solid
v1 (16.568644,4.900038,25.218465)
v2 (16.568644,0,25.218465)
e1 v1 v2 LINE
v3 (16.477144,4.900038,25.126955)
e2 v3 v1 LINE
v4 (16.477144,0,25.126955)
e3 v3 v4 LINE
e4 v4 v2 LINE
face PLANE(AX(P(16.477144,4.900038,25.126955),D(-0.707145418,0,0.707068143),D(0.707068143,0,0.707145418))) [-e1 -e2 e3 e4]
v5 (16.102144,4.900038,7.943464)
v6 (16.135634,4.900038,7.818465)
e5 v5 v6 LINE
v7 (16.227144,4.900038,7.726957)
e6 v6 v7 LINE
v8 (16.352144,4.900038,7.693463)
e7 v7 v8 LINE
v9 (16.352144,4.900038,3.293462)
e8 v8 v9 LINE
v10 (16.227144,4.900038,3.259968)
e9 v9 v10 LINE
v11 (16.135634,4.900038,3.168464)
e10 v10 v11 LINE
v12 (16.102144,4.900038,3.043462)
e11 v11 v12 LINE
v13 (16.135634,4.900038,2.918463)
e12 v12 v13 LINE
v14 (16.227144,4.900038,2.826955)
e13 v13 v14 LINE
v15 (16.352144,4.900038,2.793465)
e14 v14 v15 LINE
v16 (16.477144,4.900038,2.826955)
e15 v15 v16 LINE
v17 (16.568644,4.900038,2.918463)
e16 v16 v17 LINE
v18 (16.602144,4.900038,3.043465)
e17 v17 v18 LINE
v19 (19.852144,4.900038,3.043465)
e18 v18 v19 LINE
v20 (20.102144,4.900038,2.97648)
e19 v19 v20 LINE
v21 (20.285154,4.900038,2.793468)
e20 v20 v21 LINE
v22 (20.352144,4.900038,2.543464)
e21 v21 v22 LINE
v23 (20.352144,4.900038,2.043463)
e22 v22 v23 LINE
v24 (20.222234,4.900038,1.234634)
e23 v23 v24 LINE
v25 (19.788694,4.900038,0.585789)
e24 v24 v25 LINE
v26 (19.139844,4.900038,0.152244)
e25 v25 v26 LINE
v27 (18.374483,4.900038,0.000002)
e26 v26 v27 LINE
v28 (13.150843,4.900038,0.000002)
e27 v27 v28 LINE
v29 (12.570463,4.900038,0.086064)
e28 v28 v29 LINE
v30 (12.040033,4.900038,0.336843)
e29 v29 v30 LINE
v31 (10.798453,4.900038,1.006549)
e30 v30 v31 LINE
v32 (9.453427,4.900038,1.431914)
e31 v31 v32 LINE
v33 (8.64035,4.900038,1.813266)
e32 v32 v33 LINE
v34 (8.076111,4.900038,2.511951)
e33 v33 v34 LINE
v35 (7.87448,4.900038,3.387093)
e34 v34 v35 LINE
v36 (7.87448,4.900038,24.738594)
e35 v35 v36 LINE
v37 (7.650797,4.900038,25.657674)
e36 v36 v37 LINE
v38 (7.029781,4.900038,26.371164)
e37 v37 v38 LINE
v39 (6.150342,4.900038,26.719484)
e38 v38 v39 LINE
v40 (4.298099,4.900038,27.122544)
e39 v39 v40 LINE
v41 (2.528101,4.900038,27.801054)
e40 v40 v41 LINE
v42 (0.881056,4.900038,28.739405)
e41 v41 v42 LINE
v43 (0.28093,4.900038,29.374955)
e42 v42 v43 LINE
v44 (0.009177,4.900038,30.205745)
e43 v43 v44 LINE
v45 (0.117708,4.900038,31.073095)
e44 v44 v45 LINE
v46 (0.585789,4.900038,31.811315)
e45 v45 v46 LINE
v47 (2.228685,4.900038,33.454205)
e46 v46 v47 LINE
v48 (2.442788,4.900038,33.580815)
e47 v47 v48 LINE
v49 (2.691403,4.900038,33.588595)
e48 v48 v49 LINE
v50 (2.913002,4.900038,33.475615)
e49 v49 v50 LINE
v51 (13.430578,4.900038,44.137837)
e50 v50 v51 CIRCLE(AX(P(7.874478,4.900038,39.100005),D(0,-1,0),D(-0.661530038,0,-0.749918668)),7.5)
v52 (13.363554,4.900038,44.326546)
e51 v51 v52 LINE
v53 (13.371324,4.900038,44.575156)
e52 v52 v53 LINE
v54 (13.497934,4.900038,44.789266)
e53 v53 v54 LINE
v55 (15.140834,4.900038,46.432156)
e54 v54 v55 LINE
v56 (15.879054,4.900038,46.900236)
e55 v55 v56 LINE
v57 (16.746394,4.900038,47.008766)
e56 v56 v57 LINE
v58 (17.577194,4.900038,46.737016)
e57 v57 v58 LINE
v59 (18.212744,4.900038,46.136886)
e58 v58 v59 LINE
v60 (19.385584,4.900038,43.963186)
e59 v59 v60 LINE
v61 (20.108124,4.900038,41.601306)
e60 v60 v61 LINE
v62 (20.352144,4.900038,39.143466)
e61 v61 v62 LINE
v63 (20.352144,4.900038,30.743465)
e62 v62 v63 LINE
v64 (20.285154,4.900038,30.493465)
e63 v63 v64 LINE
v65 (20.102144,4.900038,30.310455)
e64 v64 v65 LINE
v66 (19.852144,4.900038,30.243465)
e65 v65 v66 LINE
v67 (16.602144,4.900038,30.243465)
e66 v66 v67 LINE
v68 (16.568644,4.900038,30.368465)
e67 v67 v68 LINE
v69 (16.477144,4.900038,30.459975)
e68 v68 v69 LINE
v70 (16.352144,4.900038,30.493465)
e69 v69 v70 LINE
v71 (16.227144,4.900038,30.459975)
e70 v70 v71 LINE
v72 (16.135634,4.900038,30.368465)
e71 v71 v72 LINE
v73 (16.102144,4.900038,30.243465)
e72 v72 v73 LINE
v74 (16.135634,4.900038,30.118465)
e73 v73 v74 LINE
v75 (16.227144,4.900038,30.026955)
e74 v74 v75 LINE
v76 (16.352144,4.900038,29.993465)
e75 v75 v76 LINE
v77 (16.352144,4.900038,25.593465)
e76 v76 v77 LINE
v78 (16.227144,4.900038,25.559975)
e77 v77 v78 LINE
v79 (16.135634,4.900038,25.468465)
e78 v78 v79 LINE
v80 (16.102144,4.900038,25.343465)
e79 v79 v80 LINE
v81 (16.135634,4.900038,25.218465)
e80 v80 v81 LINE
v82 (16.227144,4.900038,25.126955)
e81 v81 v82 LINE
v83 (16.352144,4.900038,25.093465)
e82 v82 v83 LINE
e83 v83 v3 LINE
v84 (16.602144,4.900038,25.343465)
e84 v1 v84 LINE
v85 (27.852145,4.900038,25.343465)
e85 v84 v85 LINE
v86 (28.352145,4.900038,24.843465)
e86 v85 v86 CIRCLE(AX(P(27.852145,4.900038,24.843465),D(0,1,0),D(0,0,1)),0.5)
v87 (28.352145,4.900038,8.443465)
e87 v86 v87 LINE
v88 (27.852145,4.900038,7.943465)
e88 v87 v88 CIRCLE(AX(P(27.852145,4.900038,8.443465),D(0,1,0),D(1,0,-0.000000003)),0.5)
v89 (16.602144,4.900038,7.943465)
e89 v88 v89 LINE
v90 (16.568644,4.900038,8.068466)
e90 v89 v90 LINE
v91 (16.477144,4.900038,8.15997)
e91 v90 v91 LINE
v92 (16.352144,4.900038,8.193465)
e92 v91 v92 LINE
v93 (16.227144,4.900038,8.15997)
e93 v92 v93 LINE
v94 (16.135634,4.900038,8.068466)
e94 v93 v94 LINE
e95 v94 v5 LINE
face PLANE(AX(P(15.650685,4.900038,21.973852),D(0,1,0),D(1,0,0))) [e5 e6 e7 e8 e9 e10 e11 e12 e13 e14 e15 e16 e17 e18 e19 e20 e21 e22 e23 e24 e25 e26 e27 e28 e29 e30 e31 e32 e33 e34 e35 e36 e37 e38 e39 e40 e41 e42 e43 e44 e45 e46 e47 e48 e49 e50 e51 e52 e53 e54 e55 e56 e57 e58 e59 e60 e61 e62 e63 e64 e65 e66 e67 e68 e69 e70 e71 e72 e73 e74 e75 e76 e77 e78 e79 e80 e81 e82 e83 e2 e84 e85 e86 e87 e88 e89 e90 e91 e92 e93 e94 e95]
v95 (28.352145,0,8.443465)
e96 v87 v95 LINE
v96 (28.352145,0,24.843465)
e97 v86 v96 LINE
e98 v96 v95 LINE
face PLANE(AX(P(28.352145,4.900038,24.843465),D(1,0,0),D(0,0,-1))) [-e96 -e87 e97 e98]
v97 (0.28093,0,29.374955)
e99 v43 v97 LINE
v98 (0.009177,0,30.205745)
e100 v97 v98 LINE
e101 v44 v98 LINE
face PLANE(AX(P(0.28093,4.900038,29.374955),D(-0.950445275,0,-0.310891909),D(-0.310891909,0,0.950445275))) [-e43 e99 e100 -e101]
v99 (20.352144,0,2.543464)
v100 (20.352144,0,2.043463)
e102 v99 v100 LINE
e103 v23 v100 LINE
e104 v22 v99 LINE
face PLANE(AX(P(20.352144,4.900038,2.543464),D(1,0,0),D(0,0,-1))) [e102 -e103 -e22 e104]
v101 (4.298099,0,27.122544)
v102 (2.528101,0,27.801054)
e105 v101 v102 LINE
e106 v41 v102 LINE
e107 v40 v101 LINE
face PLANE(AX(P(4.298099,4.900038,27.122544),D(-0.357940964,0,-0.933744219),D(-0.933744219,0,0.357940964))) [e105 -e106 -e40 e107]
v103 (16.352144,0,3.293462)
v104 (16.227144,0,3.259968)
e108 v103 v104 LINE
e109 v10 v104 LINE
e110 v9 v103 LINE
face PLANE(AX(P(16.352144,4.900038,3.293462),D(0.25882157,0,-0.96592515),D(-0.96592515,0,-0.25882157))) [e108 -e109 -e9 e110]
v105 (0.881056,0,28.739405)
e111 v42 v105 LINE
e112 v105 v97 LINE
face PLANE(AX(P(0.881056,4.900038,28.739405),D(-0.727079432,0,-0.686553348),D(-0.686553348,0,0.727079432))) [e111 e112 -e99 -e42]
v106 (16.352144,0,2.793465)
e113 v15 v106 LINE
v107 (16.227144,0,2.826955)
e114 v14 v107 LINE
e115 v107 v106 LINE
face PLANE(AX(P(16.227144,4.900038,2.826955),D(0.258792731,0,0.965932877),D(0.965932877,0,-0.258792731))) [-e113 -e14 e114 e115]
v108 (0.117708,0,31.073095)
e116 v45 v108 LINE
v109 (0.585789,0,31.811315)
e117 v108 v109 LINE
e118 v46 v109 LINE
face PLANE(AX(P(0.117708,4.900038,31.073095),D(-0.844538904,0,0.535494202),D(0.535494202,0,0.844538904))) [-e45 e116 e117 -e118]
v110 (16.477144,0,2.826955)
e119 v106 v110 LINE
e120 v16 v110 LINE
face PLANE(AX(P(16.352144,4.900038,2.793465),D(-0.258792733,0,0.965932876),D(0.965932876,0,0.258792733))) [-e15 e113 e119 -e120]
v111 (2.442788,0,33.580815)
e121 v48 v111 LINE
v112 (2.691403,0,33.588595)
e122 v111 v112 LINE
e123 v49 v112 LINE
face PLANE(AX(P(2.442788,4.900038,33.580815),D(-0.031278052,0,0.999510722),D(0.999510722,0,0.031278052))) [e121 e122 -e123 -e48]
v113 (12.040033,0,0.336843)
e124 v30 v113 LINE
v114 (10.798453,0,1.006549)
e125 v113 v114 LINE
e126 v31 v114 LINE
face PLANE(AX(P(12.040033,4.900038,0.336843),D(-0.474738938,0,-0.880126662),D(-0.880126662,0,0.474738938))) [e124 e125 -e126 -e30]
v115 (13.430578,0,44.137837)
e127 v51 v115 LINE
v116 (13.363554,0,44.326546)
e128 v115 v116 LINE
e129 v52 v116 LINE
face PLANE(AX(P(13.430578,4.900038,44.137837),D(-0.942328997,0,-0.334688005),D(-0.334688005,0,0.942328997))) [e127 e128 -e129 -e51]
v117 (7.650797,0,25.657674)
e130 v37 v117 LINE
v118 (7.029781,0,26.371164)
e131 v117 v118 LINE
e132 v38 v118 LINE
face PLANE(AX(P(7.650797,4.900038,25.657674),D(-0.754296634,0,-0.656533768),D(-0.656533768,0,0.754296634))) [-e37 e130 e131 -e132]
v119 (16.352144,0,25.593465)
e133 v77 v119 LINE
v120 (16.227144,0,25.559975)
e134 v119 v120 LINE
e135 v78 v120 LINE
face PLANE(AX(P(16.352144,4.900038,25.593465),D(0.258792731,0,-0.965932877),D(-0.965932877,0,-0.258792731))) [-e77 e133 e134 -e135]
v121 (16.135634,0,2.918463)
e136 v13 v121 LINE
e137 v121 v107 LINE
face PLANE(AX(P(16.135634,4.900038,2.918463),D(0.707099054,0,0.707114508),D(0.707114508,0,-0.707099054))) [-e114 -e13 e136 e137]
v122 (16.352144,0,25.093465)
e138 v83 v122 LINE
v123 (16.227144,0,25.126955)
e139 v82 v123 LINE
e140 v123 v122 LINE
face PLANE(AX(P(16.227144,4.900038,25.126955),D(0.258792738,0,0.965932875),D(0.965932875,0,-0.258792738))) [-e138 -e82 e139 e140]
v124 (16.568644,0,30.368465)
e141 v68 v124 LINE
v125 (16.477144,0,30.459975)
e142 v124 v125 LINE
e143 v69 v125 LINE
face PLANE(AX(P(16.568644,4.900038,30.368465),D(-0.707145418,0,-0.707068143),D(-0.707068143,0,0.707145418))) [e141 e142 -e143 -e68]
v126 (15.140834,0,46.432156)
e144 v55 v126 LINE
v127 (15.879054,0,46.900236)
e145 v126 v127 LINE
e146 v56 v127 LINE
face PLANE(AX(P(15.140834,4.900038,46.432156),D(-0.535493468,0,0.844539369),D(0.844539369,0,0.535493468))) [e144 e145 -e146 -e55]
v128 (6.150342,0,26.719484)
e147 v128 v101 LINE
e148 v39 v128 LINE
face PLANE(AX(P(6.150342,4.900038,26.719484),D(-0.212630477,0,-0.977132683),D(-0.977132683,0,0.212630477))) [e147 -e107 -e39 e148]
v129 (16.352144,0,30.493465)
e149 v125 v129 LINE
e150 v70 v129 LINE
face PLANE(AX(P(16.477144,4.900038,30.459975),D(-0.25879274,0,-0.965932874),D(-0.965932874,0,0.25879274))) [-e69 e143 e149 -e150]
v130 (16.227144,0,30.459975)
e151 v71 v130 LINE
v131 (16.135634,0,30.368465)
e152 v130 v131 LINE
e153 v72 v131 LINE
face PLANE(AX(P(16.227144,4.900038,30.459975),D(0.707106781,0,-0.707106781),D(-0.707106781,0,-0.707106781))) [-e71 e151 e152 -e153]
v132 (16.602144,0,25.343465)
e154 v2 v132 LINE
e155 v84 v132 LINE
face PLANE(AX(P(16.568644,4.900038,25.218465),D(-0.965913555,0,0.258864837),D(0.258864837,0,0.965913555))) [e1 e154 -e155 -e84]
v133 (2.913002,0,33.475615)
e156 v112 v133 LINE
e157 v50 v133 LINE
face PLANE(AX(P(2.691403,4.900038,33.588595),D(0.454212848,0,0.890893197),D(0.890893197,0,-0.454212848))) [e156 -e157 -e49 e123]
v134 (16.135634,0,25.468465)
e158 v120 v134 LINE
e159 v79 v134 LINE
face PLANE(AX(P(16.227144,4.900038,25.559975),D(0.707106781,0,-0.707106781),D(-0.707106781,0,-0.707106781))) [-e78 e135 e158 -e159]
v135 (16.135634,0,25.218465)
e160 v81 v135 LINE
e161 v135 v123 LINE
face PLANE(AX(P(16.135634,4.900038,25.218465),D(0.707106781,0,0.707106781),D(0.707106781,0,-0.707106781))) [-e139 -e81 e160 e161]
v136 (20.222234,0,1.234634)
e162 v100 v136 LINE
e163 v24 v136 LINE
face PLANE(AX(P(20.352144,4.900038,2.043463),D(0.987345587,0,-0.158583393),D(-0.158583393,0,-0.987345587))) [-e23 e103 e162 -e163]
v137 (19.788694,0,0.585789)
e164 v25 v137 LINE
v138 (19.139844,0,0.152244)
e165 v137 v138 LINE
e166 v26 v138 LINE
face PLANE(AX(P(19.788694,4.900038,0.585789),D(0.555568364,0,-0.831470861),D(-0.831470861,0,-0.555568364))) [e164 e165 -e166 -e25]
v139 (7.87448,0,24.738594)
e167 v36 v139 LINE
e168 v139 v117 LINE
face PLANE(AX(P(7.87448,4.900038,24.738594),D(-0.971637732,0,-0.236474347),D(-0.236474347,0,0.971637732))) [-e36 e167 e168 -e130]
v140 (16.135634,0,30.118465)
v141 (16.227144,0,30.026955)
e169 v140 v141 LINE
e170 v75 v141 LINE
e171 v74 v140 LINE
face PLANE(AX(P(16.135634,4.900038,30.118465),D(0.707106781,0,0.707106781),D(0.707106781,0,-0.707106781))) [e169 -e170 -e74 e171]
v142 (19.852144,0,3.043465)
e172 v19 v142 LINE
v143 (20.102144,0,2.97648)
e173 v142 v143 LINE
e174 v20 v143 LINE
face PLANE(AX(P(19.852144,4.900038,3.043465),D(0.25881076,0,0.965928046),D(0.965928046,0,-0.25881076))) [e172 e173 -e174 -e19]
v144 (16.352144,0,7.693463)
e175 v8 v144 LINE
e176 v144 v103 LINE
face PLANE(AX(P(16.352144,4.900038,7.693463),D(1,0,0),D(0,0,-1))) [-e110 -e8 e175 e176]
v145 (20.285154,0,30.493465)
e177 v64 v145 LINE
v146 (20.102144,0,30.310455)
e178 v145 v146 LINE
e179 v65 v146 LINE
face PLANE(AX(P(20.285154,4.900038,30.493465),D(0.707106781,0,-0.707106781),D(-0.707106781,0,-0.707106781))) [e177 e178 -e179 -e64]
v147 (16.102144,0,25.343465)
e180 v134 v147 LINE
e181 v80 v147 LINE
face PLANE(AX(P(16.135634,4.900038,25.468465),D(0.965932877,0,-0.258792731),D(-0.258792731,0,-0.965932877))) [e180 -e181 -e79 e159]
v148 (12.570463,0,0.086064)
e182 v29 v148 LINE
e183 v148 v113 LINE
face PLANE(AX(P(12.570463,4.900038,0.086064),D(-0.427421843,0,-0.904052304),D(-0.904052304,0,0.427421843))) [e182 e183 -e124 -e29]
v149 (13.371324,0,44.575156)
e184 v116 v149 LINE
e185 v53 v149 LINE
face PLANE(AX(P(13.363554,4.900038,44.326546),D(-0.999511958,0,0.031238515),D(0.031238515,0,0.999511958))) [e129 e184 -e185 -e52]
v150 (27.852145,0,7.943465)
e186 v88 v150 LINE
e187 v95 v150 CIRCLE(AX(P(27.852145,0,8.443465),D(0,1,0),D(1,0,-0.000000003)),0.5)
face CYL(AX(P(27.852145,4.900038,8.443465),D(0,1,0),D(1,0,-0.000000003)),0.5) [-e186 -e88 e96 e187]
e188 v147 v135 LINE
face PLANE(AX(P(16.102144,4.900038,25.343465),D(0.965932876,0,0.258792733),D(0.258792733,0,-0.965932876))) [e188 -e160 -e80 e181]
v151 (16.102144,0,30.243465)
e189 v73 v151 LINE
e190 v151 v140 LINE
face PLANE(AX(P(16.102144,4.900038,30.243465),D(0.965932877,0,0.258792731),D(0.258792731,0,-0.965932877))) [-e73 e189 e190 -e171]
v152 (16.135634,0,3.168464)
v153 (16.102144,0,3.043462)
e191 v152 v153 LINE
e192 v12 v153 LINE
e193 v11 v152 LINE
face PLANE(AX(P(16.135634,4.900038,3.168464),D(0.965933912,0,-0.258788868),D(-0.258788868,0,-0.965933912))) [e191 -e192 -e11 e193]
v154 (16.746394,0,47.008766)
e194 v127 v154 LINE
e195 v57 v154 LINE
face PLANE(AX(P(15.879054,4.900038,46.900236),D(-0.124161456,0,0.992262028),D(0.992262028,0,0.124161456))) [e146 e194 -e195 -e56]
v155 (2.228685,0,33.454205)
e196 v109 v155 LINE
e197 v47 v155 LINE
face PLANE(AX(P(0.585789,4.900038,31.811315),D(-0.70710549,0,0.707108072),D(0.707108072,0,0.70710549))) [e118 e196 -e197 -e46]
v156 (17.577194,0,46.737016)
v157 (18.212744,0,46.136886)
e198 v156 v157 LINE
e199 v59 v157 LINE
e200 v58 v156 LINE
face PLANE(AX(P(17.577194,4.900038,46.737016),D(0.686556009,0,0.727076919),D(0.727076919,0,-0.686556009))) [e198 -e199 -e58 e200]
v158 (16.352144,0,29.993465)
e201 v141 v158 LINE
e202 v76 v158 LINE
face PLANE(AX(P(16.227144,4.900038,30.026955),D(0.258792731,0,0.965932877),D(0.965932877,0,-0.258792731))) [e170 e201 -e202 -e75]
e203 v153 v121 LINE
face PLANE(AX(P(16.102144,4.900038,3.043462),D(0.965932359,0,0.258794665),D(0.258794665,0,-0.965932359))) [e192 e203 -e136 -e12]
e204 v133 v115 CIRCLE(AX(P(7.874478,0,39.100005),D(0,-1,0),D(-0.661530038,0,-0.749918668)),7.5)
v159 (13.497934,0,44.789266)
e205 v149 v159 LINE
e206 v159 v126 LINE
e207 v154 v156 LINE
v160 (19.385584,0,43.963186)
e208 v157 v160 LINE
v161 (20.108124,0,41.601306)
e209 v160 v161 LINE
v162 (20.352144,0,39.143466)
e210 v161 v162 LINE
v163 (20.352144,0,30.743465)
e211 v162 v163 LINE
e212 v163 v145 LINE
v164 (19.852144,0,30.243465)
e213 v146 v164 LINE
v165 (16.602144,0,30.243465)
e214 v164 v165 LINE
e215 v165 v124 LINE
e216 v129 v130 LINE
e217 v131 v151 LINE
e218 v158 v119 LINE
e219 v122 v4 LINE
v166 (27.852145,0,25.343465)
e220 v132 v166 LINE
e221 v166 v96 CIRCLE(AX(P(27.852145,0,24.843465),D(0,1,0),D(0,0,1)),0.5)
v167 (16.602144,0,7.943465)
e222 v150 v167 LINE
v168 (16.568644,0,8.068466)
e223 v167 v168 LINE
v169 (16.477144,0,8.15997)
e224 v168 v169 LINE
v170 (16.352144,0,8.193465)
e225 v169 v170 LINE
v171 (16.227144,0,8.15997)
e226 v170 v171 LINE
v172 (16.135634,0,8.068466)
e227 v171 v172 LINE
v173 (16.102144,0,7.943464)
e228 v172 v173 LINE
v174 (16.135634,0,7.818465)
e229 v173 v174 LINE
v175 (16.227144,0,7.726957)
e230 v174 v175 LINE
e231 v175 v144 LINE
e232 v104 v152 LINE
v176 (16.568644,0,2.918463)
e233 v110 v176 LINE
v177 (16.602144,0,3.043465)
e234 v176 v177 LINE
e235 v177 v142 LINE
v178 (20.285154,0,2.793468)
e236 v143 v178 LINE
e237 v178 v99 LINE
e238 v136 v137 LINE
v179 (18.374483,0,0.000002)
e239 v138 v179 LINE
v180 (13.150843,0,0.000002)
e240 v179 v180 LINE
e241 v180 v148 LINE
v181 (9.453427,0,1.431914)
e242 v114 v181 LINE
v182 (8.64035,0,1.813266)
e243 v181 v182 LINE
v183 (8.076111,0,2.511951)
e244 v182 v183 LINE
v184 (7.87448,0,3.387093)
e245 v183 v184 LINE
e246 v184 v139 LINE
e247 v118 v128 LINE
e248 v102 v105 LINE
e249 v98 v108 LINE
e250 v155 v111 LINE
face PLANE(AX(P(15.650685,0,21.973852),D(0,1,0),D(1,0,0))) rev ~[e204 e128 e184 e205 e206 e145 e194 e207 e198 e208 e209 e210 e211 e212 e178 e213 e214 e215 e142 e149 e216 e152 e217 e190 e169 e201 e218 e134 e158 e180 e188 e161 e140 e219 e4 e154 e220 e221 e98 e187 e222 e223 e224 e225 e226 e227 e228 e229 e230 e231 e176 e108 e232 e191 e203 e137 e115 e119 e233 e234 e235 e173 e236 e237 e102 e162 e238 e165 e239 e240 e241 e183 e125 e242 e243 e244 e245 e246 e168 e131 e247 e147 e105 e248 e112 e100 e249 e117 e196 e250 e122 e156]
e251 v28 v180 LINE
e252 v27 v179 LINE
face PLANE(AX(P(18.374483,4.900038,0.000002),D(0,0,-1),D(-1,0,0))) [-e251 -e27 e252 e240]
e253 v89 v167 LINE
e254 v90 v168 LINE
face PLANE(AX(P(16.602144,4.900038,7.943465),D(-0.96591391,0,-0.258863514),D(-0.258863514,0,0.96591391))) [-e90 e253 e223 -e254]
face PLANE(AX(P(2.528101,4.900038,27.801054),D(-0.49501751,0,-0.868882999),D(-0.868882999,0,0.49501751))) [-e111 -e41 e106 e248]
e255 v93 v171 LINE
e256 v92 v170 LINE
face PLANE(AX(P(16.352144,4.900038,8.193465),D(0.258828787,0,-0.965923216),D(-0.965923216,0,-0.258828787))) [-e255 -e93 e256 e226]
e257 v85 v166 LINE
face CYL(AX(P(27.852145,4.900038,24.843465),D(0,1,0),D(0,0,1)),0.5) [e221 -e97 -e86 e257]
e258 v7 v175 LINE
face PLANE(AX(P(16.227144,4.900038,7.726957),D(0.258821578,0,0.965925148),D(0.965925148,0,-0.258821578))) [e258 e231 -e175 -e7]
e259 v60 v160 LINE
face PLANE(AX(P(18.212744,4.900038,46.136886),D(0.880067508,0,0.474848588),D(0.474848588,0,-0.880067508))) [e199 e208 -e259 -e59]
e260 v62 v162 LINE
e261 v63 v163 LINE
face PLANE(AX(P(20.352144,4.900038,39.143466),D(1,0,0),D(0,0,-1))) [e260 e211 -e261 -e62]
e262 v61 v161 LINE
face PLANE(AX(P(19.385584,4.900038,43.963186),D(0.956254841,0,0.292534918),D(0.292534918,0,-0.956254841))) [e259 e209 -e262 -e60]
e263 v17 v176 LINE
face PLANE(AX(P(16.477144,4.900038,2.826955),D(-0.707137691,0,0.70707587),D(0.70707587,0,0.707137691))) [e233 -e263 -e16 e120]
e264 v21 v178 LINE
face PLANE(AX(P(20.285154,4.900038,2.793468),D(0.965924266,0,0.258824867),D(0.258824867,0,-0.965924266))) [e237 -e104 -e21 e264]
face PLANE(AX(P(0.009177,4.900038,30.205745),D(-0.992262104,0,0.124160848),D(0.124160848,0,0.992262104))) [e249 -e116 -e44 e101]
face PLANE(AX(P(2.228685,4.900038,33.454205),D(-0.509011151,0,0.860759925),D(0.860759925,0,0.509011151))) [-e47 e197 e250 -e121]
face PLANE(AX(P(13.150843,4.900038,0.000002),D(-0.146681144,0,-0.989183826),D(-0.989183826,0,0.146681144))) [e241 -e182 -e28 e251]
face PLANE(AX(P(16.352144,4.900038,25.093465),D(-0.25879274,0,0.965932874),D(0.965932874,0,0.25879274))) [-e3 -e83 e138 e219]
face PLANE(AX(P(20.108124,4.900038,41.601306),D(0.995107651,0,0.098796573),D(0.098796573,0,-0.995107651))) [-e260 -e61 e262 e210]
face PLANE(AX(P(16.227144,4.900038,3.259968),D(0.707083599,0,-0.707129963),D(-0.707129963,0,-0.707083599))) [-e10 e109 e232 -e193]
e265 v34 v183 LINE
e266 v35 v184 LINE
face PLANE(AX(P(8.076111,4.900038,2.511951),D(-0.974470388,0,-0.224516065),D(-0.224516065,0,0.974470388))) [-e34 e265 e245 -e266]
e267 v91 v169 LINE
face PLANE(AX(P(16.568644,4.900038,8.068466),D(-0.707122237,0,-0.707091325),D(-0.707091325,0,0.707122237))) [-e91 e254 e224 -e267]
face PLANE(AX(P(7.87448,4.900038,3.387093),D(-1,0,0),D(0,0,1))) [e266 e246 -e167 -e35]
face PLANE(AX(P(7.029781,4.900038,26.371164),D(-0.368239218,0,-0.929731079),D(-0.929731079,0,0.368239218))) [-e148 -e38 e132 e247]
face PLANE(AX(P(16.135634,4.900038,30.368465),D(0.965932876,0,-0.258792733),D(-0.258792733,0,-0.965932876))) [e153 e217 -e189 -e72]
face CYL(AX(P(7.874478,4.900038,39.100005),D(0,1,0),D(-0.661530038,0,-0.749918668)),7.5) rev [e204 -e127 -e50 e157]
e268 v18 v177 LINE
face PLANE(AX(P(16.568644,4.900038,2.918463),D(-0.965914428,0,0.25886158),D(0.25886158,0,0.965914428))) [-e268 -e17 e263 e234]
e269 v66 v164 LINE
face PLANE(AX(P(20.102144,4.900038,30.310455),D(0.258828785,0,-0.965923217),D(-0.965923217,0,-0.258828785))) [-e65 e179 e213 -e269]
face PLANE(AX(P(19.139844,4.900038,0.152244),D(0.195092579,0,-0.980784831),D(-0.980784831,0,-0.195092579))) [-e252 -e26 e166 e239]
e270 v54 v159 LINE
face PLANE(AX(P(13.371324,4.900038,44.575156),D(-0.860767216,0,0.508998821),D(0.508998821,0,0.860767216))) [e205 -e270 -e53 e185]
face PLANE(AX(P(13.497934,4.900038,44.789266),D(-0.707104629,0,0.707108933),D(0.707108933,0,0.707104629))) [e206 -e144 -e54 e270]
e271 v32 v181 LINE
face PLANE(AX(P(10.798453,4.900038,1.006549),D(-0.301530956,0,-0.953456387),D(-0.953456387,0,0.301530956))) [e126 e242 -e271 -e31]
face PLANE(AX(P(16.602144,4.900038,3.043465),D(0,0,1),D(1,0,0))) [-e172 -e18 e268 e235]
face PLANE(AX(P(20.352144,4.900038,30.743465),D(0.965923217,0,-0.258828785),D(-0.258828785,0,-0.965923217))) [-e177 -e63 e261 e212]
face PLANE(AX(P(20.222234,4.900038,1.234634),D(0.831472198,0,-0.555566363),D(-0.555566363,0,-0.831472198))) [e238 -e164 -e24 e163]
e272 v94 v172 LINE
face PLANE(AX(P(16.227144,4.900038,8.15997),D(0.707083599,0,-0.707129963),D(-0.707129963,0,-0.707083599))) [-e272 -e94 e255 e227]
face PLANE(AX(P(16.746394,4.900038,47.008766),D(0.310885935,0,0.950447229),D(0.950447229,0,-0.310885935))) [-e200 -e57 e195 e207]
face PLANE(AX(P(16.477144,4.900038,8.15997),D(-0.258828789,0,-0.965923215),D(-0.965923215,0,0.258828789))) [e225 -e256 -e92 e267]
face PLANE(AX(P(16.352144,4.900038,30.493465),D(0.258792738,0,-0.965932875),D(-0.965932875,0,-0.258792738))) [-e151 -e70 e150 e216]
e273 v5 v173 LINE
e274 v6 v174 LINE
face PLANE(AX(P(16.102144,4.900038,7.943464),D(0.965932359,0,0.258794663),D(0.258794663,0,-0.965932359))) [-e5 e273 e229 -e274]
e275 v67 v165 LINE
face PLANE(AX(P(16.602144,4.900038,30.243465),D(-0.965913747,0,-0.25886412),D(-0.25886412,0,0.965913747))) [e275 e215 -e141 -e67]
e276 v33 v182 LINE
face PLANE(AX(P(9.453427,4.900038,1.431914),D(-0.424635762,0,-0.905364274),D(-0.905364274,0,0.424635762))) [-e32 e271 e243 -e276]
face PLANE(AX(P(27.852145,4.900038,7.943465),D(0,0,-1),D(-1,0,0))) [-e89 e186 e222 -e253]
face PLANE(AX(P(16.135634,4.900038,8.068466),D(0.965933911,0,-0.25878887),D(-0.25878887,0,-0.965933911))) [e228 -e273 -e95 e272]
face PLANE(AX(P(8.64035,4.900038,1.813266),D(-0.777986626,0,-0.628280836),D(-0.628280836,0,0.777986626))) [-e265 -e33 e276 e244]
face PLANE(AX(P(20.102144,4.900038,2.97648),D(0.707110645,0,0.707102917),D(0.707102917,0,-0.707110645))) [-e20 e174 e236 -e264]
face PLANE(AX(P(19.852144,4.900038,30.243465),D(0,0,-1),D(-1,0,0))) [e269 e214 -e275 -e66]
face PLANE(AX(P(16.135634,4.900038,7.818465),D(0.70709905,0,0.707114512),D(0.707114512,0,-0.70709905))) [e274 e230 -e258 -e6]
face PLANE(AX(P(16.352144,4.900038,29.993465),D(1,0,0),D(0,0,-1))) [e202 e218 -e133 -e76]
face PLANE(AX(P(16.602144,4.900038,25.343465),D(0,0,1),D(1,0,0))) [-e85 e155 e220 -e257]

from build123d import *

# Parameters (mm, degrees)
BOSS_EXTRU_1_DEPTH = 4.900038


with BuildPart() as part:
    # Esquisse1 → Boss.-Extru.1 (new body)
    with BuildSketch(Plane(origin=(0, 4.900038, 0), x_dir=(1, 0, 0), z_dir=(0, 1, 0))):
        with BuildLine():
            Line((20.352144301, -2.543463741), (20.352144301, -2.043462703))
            Line((20.352144301, -2.043462703), (20.222233634, -1.234634479))
            Line((20.222233634, -1.234634479), (19.788693601, -0.58578943))
            Line((19.788693601, -0.58578943), (19.139843552, -0.152243798))
            Line((19.139843552, -0.152243798), (18.374483494, -2.386e-06))
            Line((18.374483494, -2.386e-06), (13.150843099, -2.386e-06))
            Line((13.150843099, -2.386e-06), (12.570463055, -0.086064053))
            Line((12.570463055, -0.086064053), (12.040033015, -0.336843111))
            Line((12.040033015, -0.336843111), (10.798452921, -1.006549462))
            Line((10.798452921, -1.006549462), (9.453426819, -1.431914494))
            Line((9.453426819, -1.431914494), (8.640349758, -1.813265523))
            Line((8.640349758, -1.813265523), (8.076110715, -2.511950576))
            Line((8.076110715, -2.511950576), (7.8744797, -3.387092642))
            Line((7.8744797, -3.387092642), (7.8744797, -24.738594256))
            Line((7.8744797, -24.738594256), (7.650796683, -25.657674326))
            Line((7.650796683, -25.657674326), (7.029780636, -26.37116438))
            Line((7.029780636, -26.37116438), (6.15034157, -26.719484406))
            Line((6.15034157, -26.719484406), (4.29809943, -27.122544437))
            Line((4.29809943, -27.122544437), (2.528101296, -27.801054488))
            Line((2.528101296, -27.801054488), (0.881055671, -28.739404559))
            Line((0.881055671, -28.739404559), (0.280930026, -29.374954607))
            Line((0.280930026, -29.374954607), (0.009177495, -30.20574467))
            Line((0.009177495, -30.20574467), (0.117708214, -31.073094735))
            Line((0.117708214, -31.073094735), (0.585789149, -31.811314791))
            Line((0.585789149, -31.811314791), (2.228685273, -33.454204915))
            Line((2.228685273, -33.454204915), (2.442788289, -33.580814925))
            Line((2.442788289, -33.580814925), (2.691403308, -33.588594925))
            Line((2.691403308, -33.588594925), (2.913002325, -33.475614917))
            ThreePointArc((2.913002325, -33.475614917), (13.213872644, -33.833045583), (13.430577738, -44.137836939))
            Line((13.430577738, -44.137836939), (13.363553773, -44.3265459))
            Line((13.363553773, -44.3265459), (13.371323773, -44.575155919))
            Line((13.371323773, -44.575155919), (13.497933783, -44.789265935))
            Line((13.497933783, -44.789265935), (15.140833907, -46.432156059))
            Line((15.140833907, -46.432156059), (15.879053963, -46.900236095))
            Line((15.879053963, -46.900236095), (16.746394029, -47.008766103))
            Line((16.746394029, -47.008766103), (17.577194091, -46.737016082))
            Line((17.577194091, -46.737016082), (18.212744139, -46.136886037))
            Line((18.212744139, -46.136886037), (19.385584228, -43.963185873))
            Line((19.385584228, -43.963185873), (20.108124283, -41.601305694))
            Line((20.108124283, -41.601305694), (20.352144301, -39.143465508))
            Line((20.352144301, -39.143465508), (20.352144301, -30.743464873))
            Line((20.352144301, -30.743464873), (20.285154296, -30.493464854))
            Line((20.285154296, -30.493464854), (20.102144282, -30.31045484))
            Line((20.102144282, -30.31045484), (19.852144263, -30.243464835))
            Line((19.852144263, -30.243464835), (16.602144018, -30.243464835))
            Line((16.602144018, -30.243464835), (16.568644015, -30.368465215))
            Line((16.568644015, -30.368465215), (16.477144008, -30.459975222))
            Line((16.477144008, -30.459975222), (16.352143999, -30.493465225))
            Line((16.352143999, -30.493465225), (16.227143989, -30.459975222))
            Line((16.227143989, -30.459975222), (16.135633982, -30.368465215))
            Line((16.135633982, -30.368465215), (16.10214398, -30.243465206))
            Line((16.10214398, -30.243465206), (16.135633982, -30.118465196))
            Line((16.135633982, -30.118465196), (16.227143989, -30.026955189))
            Line((16.227143989, -30.026955189), (16.352143999, -29.993465187))
            Line((16.352143999, -29.993465187), (16.352143999, -25.593464854))
            Line((16.352143999, -25.593464854), (16.227143989, -25.559974852))
            Line((16.227143989, -25.559974852), (16.135633982, -25.468464845))
            Line((16.135633982, -25.468464845), (16.10214398, -25.343464835))
            Line((16.10214398, -25.343464835), (16.135633982, -25.218464826))
            Line((16.135633982, -25.218464826), (16.227143989, -25.126954819))
            Line((16.227143989, -25.126954819), (16.352143999, -25.093464816))
            Line((16.352143999, -25.093464816), (16.477144008, -25.126954819))
            Line((16.477144008, -25.126954819), (16.568644015, -25.218464826))
            Line((16.568644015, -25.218464826), (16.602144018, -25.343464835))
            Line((16.602144018, -25.343464835), (27.852144868, -25.343464835))
            ThreePointArc((27.852144868, -25.343464835), (28.205698285, -25.197018215), (28.352144906, -24.843464798))
            Line((28.352144906, -24.843464798), (28.352144906, -8.443464873))
            ThreePointArc((28.352144906, -8.443464873), (28.205698285, -8.089911456), (27.852144868, -7.943464835))
            Line((27.852144868, -7.943464835), (16.602144018, -7.943464835))
            Line((16.602144018, -7.943464835), (16.568644015, -8.068465529))
            Line((16.568644015, -8.068465529), (16.477144008, -8.159969536))
            Line((16.477144008, -8.159969536), (16.352143999, -8.193464539))
            Line((16.352143999, -8.193464539), (16.227143989, -8.159969536))
            Line((16.227143989, -8.159969536), (16.135633982, -8.068465529))
            Line((16.135633982, -8.068465529), (16.10214398, -7.94346352))
            Line((16.10214398, -7.94346352), (16.135633982, -7.81846451))
            Line((16.135633982, -7.81846451), (16.227143989, -7.726956504))
            Line((16.227143989, -7.726956504), (16.352143999, -7.693462501))
            Line((16.352143999, -7.693462501), (16.352143999, -3.293462168))
            Line((16.352143999, -3.293462168), (16.227143989, -3.259968166))
            Line((16.227143989, -3.259968166), (16.135633982, -3.168464159))
            Line((16.135633982, -3.168464159), (16.10214398, -3.043462149))
            Line((16.10214398, -3.043462149), (16.135633982, -2.91846314))
            Line((16.135633982, -2.91846314), (16.227143989, -2.826955133))
            Line((16.227143989, -2.826955133), (16.352143999, -2.793465131))
            Line((16.352143999, -2.793465131), (16.477144008, -2.826955133))
            Line((16.477144008, -2.826955133), (16.568644015, -2.91846314))
            Line((16.568644015, -2.91846314), (16.602144018, -3.043464835))
            Line((16.602144018, -3.043464835), (19.852144263, -3.043464835))
            Line((19.852144263, -3.043464835), (20.102144282, -2.97647983))
            Line((20.102144282, -2.97647983), (20.285154296, -2.793467816))
            Line((20.285154296, -2.793467816), (20.352144301, -2.543463741))
        make_face()
    extrude(amount=-BOSS_EXTRU_1_DEPTH)


solid = part.part
